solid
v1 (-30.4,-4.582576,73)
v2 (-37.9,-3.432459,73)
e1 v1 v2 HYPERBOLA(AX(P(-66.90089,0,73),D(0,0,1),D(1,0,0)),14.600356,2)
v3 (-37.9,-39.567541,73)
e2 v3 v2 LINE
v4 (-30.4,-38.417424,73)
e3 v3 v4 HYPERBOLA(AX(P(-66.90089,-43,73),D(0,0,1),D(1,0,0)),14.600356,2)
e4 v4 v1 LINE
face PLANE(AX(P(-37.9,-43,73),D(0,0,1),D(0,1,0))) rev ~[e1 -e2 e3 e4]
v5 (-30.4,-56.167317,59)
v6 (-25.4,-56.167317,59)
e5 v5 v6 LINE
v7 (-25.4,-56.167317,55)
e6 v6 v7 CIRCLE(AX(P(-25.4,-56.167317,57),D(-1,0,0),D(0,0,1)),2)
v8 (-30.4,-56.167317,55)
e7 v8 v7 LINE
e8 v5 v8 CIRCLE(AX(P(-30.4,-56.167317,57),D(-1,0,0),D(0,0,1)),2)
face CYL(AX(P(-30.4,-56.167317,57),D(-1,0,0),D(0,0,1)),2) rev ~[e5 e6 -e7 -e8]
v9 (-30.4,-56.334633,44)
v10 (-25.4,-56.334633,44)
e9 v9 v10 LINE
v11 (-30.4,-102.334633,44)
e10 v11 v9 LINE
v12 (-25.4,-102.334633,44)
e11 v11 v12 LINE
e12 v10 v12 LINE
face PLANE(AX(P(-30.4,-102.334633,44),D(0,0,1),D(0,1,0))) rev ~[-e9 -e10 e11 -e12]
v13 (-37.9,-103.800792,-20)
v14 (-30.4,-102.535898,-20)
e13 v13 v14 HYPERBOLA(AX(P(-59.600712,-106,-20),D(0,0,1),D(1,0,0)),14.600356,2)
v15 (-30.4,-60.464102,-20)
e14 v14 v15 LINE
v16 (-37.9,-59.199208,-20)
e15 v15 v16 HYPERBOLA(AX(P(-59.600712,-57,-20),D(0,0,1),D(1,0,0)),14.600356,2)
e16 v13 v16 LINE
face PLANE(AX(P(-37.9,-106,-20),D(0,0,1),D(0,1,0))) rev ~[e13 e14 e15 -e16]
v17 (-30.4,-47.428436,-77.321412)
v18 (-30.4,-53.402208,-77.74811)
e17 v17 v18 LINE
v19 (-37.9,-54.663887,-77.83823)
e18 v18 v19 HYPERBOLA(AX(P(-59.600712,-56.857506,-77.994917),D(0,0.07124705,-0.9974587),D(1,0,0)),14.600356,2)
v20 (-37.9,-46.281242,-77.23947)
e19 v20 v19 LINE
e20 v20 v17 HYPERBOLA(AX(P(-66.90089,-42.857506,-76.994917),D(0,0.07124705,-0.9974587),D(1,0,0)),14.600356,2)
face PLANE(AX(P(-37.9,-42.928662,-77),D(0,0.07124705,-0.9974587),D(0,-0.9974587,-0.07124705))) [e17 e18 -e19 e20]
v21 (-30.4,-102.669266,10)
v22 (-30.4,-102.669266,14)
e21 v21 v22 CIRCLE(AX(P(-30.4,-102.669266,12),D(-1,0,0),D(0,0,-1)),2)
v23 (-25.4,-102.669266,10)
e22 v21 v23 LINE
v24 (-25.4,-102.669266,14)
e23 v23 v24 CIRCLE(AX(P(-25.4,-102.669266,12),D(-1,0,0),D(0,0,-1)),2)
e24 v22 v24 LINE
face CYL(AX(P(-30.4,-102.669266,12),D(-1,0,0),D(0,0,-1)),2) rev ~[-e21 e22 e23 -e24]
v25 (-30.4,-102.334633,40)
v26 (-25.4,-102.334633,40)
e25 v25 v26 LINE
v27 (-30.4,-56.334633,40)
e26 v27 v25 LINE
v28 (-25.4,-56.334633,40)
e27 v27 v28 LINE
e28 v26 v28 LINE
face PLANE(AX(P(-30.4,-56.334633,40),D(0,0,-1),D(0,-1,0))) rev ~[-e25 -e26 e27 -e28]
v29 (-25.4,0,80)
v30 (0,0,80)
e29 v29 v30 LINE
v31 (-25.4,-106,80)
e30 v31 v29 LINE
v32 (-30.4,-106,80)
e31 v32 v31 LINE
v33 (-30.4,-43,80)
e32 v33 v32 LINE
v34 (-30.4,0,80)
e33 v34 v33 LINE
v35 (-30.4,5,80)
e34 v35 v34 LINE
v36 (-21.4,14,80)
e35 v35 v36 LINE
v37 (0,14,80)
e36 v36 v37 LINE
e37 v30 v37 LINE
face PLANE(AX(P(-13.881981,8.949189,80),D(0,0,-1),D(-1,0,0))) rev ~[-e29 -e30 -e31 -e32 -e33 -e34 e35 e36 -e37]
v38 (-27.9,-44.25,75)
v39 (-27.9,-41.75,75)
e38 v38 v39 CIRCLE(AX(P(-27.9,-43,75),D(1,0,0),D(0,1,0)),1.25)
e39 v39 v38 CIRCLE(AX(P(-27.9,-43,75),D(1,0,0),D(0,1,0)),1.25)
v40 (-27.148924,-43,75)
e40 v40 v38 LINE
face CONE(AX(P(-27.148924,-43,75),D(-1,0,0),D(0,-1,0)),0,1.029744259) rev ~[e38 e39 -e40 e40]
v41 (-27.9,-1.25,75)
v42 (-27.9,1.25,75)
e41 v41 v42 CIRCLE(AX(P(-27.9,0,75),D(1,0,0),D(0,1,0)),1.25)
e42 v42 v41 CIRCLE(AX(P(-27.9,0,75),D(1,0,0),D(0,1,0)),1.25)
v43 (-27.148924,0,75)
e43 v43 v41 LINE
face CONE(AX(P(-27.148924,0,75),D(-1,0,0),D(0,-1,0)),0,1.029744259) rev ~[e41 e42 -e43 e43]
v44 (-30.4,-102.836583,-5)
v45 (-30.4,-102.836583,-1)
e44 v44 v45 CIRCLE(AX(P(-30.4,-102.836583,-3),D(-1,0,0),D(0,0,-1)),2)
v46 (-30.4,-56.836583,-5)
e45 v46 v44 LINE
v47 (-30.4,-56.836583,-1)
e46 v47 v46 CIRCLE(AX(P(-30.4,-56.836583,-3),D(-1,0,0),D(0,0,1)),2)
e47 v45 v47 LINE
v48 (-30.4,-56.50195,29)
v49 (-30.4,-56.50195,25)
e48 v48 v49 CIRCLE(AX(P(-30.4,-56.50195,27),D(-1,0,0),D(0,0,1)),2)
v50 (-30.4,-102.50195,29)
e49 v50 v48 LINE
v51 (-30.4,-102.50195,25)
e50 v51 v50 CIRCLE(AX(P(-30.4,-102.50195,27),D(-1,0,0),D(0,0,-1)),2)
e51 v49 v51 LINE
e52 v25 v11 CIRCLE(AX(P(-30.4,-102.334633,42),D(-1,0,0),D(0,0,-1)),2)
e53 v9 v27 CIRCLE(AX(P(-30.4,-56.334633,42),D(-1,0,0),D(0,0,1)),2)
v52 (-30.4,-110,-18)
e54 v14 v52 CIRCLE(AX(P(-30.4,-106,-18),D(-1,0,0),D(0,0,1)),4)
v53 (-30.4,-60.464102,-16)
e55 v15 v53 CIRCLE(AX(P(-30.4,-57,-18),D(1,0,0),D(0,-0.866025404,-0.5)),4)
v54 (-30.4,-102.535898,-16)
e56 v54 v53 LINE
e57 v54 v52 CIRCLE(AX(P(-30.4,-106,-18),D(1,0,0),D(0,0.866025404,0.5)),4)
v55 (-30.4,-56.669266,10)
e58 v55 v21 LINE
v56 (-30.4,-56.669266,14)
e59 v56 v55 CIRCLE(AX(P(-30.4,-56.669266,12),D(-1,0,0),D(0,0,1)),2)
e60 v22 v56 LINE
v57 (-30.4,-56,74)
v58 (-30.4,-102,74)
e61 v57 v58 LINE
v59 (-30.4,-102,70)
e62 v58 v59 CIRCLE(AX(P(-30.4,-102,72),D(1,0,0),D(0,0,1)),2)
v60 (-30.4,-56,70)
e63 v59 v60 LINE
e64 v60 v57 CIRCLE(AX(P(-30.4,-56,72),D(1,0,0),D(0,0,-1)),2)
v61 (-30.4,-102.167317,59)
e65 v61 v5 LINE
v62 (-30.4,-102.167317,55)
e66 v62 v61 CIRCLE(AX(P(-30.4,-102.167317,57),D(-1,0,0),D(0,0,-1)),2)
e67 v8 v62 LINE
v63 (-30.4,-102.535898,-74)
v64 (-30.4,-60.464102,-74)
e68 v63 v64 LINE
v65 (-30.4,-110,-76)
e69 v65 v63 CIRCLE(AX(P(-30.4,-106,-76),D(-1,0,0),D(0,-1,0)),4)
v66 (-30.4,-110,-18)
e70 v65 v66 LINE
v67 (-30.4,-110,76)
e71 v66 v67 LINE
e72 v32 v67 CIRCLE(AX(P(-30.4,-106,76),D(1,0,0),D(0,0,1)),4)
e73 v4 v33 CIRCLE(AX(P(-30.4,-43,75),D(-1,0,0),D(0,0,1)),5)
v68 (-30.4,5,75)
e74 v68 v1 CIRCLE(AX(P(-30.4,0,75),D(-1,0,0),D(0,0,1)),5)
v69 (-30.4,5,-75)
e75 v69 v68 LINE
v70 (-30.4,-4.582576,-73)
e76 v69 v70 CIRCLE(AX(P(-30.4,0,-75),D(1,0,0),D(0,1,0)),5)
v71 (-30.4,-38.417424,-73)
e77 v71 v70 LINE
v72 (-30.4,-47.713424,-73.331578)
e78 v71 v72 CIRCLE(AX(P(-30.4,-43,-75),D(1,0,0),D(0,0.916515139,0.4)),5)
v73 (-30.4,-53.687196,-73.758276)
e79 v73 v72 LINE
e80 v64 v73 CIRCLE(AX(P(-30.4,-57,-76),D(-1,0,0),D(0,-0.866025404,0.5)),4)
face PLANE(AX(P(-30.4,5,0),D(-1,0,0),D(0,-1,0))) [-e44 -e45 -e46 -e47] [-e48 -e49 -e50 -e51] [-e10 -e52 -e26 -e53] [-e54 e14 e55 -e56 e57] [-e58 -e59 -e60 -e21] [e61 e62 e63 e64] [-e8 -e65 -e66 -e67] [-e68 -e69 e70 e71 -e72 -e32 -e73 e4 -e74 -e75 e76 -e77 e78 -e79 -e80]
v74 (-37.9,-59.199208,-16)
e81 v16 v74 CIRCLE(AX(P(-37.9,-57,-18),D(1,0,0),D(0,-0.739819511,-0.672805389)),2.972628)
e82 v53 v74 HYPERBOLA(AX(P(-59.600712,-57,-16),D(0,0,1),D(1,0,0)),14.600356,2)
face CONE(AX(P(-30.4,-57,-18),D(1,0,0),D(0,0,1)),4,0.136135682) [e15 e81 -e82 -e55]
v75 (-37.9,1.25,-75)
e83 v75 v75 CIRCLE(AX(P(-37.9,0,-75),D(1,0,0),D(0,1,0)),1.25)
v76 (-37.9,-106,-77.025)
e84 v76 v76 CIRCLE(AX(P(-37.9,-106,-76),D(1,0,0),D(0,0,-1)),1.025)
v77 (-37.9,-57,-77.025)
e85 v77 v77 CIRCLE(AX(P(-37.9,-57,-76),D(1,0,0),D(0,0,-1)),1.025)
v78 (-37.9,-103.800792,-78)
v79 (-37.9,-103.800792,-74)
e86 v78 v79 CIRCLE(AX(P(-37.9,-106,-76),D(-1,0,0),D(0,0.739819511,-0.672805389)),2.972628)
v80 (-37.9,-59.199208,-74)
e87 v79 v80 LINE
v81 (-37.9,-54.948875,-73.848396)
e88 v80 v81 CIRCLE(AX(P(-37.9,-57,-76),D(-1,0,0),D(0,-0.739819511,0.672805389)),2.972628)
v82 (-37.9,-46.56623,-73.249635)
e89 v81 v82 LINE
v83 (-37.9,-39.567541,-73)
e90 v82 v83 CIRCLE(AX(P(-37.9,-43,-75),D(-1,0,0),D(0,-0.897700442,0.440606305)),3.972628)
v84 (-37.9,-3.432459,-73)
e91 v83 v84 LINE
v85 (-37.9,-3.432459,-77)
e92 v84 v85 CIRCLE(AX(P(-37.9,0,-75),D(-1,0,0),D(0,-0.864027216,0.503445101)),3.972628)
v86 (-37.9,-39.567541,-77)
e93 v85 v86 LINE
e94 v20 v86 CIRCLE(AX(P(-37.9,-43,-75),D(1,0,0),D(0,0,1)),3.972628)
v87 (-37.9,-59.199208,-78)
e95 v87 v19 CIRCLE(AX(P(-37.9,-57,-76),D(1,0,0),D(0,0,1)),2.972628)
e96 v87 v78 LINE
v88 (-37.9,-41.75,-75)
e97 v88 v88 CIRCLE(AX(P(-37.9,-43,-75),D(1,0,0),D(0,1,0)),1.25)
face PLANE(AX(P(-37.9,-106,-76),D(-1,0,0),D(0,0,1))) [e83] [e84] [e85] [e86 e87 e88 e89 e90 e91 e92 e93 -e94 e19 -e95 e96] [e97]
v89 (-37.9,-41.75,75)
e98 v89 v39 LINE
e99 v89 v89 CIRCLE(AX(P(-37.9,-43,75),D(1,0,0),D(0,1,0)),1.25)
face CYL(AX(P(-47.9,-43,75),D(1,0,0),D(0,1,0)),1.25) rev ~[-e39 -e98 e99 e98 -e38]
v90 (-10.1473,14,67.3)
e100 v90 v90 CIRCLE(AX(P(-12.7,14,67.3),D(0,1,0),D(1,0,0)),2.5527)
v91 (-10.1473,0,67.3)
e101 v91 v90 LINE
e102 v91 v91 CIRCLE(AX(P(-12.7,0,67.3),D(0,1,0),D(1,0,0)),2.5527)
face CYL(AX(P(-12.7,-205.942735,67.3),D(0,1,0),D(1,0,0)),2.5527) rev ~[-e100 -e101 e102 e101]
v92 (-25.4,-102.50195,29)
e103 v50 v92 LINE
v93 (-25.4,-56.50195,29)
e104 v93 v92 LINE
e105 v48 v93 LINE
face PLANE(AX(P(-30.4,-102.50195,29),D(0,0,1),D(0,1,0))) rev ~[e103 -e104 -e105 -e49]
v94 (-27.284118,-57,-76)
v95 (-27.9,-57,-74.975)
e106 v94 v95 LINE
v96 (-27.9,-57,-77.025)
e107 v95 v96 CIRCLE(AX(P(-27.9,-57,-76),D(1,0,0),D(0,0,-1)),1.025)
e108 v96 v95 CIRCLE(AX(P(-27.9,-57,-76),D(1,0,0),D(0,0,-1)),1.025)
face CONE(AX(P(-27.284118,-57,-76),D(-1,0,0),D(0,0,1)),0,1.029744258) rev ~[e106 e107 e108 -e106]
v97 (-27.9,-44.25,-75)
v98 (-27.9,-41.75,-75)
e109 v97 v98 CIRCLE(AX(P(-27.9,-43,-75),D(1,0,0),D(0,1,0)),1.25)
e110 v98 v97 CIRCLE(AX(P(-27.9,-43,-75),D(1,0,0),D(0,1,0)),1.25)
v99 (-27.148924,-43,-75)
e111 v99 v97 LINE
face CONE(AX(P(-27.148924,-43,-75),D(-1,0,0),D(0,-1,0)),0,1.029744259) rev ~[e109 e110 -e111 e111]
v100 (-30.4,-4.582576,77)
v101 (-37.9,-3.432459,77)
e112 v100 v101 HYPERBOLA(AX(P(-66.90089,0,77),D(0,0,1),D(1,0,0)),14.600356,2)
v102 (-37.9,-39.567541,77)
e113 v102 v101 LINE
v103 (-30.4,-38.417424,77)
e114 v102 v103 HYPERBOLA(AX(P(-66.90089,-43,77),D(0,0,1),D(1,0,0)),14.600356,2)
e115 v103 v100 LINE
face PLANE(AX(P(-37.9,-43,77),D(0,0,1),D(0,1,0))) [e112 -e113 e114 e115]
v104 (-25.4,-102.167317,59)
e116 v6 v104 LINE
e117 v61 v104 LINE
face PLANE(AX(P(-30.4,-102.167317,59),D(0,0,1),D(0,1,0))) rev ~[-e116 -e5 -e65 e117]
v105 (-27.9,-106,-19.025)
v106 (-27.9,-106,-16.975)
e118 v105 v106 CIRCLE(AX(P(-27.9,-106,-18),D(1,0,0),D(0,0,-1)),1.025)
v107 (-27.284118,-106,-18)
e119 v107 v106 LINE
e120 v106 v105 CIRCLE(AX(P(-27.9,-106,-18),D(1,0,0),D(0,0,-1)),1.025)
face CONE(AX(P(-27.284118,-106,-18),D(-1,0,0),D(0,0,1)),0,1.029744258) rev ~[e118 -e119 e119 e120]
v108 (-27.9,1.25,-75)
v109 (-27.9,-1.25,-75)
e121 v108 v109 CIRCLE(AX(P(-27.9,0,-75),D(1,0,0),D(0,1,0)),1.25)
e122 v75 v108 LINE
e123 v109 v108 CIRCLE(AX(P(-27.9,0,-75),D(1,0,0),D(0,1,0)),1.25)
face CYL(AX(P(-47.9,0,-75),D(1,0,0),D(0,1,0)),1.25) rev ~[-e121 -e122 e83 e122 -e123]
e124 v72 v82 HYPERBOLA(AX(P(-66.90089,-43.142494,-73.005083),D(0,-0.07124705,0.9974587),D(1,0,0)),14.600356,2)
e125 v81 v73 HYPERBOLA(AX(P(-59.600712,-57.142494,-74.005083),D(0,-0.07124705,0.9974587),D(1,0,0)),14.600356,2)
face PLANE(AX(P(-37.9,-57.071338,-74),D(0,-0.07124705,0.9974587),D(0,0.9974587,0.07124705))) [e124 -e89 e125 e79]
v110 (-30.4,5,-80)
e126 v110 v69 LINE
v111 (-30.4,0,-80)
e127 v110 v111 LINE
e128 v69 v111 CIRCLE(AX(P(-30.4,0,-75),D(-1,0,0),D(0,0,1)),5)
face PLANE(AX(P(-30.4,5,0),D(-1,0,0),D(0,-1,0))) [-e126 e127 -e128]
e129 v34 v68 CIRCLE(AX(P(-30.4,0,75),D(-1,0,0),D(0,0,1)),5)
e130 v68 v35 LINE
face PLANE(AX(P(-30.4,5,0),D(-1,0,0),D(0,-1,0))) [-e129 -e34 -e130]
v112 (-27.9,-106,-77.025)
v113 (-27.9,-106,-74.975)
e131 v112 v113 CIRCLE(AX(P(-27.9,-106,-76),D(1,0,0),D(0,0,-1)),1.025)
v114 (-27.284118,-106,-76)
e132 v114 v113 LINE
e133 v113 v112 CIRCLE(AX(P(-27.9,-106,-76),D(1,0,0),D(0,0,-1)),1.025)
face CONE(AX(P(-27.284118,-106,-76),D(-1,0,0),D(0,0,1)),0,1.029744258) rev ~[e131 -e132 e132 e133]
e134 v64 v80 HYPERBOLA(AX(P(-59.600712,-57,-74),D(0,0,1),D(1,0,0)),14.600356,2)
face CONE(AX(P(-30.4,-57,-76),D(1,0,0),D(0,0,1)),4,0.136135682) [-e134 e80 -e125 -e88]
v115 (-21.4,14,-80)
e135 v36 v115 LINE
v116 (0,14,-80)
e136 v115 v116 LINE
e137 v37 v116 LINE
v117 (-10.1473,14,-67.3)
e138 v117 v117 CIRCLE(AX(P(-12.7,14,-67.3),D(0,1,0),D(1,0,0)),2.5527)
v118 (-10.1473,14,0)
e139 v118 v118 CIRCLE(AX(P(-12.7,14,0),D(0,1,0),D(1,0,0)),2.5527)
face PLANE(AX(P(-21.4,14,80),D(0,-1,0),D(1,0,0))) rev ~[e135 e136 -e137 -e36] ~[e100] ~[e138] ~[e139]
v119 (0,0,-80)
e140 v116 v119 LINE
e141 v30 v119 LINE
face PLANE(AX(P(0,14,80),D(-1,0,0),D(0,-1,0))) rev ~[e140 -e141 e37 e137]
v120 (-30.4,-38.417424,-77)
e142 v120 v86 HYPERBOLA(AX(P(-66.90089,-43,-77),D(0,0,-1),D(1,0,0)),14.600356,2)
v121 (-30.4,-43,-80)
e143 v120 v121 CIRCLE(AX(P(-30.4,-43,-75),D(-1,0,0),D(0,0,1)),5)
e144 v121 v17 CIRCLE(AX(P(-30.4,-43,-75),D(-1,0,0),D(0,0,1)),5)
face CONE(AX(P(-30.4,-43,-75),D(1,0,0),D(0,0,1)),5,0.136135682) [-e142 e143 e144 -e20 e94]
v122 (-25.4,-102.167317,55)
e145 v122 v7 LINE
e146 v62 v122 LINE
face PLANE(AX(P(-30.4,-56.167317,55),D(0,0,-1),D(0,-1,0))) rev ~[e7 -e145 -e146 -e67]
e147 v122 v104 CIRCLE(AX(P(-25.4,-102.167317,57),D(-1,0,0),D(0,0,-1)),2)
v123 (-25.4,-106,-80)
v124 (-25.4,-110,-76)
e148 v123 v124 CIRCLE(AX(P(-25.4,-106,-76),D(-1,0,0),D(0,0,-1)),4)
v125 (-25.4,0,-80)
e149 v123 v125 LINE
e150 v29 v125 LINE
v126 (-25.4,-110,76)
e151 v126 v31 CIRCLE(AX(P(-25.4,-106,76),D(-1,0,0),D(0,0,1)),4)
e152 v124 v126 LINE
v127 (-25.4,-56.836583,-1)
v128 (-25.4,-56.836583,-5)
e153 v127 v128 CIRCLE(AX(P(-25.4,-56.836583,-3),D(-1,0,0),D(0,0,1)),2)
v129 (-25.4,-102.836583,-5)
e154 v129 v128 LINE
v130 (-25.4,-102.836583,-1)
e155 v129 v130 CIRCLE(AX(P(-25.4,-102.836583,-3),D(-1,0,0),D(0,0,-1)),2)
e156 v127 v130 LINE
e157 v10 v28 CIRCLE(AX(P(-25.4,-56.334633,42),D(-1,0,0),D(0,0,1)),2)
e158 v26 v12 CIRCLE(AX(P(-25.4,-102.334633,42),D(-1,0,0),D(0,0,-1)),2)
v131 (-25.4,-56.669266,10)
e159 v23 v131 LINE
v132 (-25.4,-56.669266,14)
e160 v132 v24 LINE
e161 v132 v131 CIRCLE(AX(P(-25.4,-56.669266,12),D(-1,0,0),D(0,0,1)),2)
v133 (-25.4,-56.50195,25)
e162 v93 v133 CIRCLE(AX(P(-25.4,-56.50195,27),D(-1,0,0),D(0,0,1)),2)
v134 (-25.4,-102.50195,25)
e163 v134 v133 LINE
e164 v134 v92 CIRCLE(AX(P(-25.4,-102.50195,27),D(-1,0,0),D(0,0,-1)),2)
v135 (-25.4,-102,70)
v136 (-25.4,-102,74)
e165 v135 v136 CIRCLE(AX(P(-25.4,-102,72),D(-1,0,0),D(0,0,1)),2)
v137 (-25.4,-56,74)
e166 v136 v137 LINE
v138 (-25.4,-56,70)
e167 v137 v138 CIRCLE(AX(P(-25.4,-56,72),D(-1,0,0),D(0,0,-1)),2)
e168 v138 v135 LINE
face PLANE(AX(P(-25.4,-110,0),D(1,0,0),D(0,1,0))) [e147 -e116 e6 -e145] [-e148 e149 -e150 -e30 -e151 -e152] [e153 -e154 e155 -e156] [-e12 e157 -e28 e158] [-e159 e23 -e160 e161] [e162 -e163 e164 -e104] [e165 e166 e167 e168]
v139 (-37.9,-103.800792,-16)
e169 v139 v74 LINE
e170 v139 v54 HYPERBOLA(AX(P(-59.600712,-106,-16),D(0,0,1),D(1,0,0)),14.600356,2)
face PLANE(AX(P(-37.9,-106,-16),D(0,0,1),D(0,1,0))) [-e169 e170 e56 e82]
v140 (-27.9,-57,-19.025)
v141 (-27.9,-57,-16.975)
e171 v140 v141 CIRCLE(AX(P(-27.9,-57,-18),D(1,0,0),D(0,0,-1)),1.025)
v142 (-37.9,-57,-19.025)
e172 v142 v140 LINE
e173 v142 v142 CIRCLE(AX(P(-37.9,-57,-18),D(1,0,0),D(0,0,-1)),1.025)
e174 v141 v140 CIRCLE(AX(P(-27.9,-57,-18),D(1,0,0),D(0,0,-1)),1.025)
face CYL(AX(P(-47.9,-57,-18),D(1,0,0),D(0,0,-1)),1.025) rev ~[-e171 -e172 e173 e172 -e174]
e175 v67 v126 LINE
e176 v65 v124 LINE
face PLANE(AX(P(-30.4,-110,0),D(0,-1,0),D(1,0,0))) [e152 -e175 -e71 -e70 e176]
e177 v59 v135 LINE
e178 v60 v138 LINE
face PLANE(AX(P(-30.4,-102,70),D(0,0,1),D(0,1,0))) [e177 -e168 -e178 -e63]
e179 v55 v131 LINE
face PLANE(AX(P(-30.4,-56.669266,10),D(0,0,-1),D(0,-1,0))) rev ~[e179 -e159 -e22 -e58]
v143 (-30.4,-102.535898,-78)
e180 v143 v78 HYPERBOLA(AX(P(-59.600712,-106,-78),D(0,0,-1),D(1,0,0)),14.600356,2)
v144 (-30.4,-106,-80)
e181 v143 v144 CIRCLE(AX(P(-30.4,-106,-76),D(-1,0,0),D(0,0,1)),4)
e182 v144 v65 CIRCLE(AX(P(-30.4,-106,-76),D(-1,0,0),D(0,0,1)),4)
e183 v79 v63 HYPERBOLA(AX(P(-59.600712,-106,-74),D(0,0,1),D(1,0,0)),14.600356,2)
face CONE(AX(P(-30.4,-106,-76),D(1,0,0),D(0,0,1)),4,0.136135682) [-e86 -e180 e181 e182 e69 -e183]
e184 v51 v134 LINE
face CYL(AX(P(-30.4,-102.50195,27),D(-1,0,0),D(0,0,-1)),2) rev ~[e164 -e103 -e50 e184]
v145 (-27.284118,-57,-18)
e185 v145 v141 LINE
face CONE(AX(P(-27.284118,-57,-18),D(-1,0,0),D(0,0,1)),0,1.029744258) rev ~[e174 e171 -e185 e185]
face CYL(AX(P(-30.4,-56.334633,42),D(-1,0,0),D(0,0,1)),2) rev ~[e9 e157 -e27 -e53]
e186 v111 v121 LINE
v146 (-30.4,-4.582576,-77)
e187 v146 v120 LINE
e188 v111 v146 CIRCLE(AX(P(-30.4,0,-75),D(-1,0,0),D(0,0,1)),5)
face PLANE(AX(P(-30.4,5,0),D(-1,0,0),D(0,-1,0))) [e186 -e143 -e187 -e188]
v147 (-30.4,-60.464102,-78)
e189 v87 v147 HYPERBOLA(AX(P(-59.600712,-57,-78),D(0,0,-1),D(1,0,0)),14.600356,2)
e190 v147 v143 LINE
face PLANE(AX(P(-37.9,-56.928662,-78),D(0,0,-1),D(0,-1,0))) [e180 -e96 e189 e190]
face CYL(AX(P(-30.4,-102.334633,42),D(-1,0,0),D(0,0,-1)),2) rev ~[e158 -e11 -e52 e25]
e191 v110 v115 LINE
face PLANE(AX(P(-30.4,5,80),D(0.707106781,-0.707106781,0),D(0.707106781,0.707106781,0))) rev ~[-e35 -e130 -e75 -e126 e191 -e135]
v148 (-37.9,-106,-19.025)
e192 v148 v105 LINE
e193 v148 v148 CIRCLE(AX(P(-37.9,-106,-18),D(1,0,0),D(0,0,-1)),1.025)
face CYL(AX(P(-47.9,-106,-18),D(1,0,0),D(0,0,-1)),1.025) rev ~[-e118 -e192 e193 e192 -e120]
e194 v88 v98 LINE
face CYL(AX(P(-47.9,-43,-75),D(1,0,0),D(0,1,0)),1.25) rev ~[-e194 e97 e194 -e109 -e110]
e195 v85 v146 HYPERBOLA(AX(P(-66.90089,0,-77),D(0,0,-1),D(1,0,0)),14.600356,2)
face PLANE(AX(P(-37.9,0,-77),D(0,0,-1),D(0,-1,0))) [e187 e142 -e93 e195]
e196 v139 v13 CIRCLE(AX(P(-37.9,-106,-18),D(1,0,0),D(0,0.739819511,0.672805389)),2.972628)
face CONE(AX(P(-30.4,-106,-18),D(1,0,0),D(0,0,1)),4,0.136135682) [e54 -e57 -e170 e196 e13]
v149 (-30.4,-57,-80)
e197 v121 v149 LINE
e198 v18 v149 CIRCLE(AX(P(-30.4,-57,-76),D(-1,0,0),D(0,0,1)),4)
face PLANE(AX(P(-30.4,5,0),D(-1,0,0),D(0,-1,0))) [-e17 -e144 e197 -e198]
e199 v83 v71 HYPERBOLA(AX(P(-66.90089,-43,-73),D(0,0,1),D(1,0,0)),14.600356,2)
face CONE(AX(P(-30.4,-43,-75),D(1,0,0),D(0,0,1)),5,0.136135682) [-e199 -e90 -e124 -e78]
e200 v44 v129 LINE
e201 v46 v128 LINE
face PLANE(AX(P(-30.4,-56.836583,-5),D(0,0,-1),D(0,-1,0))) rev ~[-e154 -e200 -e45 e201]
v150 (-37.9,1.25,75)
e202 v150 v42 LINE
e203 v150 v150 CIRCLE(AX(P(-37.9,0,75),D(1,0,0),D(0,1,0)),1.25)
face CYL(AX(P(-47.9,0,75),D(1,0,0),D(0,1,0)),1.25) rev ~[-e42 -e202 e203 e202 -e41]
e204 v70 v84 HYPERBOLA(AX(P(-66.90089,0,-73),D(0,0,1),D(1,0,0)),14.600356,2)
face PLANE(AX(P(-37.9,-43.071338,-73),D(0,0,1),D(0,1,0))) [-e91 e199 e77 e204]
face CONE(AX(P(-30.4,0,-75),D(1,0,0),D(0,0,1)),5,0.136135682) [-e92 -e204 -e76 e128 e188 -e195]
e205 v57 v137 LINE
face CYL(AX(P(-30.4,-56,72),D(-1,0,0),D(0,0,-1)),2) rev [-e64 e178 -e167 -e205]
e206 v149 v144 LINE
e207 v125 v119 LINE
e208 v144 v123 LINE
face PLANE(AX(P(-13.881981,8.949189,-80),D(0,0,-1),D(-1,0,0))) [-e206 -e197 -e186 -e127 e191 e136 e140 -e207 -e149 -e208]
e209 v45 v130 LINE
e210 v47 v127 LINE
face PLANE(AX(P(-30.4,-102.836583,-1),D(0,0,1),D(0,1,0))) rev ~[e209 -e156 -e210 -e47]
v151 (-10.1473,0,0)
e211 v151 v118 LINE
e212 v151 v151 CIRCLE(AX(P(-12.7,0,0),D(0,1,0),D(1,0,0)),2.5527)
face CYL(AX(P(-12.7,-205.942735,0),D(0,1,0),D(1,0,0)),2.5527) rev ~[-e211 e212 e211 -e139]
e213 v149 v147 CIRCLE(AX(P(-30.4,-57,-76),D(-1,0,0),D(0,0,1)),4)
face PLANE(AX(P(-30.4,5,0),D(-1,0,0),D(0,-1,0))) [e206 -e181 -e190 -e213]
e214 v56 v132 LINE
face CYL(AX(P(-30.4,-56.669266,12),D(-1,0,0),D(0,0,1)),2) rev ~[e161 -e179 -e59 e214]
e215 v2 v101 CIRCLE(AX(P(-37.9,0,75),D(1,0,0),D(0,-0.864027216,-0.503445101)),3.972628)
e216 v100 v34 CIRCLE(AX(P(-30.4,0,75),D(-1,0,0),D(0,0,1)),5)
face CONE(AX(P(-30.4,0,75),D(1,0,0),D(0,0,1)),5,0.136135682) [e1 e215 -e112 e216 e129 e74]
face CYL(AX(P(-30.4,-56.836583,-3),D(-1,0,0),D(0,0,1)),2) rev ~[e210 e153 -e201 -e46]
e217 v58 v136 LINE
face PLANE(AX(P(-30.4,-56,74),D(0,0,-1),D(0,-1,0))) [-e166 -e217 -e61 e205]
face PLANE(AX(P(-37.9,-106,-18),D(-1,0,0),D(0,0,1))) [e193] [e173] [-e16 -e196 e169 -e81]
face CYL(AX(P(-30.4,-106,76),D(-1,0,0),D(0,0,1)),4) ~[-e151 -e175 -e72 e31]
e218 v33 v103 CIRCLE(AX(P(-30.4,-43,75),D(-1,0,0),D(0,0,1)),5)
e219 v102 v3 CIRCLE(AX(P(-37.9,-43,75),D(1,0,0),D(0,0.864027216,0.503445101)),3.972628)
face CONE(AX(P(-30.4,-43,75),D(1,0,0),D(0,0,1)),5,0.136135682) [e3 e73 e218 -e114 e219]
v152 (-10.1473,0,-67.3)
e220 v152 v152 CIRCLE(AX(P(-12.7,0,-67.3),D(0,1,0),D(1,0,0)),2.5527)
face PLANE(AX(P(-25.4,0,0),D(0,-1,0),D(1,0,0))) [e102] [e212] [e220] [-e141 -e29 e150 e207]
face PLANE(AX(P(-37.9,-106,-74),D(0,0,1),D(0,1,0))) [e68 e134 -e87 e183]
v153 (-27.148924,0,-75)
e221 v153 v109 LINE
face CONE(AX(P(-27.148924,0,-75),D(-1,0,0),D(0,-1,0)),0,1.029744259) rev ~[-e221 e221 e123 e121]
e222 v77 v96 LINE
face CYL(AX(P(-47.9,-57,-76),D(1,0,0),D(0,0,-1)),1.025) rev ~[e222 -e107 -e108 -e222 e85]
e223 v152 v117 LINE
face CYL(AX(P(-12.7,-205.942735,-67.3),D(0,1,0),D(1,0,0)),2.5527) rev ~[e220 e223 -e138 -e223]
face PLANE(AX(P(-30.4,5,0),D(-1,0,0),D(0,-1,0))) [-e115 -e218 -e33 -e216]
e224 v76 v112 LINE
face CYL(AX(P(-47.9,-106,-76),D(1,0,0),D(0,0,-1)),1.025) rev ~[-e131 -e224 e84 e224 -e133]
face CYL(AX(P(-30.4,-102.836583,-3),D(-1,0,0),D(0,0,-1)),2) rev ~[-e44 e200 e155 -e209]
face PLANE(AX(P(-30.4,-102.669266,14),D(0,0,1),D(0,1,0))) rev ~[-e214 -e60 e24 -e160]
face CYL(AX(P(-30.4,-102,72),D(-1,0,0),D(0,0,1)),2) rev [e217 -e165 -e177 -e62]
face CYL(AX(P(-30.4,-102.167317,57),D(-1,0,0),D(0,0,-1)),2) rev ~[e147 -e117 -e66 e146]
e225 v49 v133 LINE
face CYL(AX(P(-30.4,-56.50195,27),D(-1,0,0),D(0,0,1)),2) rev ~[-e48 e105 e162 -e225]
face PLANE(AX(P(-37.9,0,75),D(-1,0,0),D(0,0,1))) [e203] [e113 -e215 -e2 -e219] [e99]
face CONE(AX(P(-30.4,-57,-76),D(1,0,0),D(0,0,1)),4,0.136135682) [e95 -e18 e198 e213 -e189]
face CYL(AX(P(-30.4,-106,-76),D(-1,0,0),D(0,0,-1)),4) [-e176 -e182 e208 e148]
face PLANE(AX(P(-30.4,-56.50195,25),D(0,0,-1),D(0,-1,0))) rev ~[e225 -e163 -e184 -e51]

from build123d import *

# Parameters (mm, degrees)
BOSS_EXTRUDE1_DEPTH                = 80
SKETCH2_R                          = 5
SKETCH2_R_2                        = 4
BOSS_EXTRUDE2_DEPTH                = 7.5
BOSS_EXTRUDE2_TAPER                = 7.8
CUT_EXTRUDE1_DEPTH                 = 31.4
CUT_EXTRUDE2_DEPTH                 = 31.4
SKETCH6_W                          = 4
SKETCH6_H                          = 43
SKETCH6_H_2                        = 49
EXTRUDE_THIN1_DEPTH                = 7.5
TAP_DRILL_FOR_M2_5X0_45_TAP1_D     = 2.05
TAP_DRILL_FOR_M2_5X0_45_TAP1_DEPTH = 10
TAP_DRILL_FOR_M2_5X0_45_TAP1_TIP   = 0.615882135
TAP_DRILL_FOR_M3X0_5_TAP1_D        = 2.5
TAP_DRILL_FOR_M3X0_5_TAP1_DEPTH    = 10
TAP_DRILL_FOR_M3X0_5_TAP1_TIP      = 0.751075774
BOSS_EXTRUDE4_DEPTH                = 160
F_10_CLEARANCE_HOLE1_D             = 5.1054


with BuildPart() as part:
    # Sketch1 → Boss-Extrude1 (new body, symmetric)
    with BuildSketch(Plane.XY):
        Polygon((0, 5), (-30.4, 5), (-30.4, -110), (-25.4, -110), (-25.4, 0), (0, 0), align=None)
    extrude(amount=BOSS_EXTRUDE1_DEPTH, both=True)

    # Sketch2 → Boss-Extrude2 (add)
    with BuildSketch(Plane.ZY.offset(30.4)):
        with Locations((75, -43)):
            Circle(SKETCH2_R)
        with Locations((75, 0)):
            Circle(SKETCH2_R)
        with Locations((-75, 0)):
            Circle(SKETCH2_R)
        with Locations((-75, -43)):
            Circle(SKETCH2_R)
        with Locations((-76, -57)):
            Circle(SKETCH2_R_2)
        with Locations((-76, -106)):
            Circle(SKETCH2_R_2)
        with Locations((-18, -106)):
            Circle(SKETCH2_R_2)
        with Locations((-18, -57)):
            Circle(SKETCH2_R_2)
    extrude(amount=BOSS_EXTRUDE2_DEPTH, taper=BOSS_EXTRUDE2_TAPER)

    # Sketch3 → Cut-Extrude1 (cut, through all)
    with BuildSketch(Plane.ZY.offset(30.4)):
        with BuildLine():
            Line((74, -56), (74, -102))
            ThreePointArc((74, -102), (72, -104), (70, -102))
            Line((70, -102), (70, -56))
            ThreePointArc((70, -56), (72, -54), (74, -56))
        make_face()
        with BuildLine():
            Line((55, -56.167316529), (55, -102.167316529))
            ThreePointArc((55, -102.167316529), (57, -104.167316529), (59, -102.167316529))
            Line((59, -102.167316529), (59, -56.167316529))
            ThreePointArc((59, -56.167316529), (57, -54.167316529), (55, -56.167316529))
        make_face()
        with BuildLine():
            Line((40, -56.334633058), (40, -102.334633058))
            ThreePointArc((40, -102.334633058), (42, -104.334633058), (44, -102.334633058))
            Line((44, -102.334633058), (44, -56.334633058))
            ThreePointArc((44, -56.334633058), (42, -54.334633058), (40, -56.334633058))
        make_face()
        with BuildLine():
            Line((25, -56.501949587), (25, -102.501949587))
            ThreePointArc((25, -102.501949587), (27, -104.501949587), (29, -102.501949587))
            Line((29, -102.501949587), (29, -56.501949587))
            ThreePointArc((29, -56.501949587), (27, -54.501949587), (25, -56.501949587))
        make_face()
        with BuildLine():
            Line((10, -56.669266116), (10, -102.669266116))
            ThreePointArc((10, -102.669266116), (12, -104.669266116), (14, -102.669266116))
            Line((14, -102.669266116), (14, -56.669266116))
            ThreePointArc((14, -56.669266116), (12, -54.669266116), (10, -56.669266116))
        make_face()
        with BuildLine():
            Line((-5, -56.836582645), (-5, -102.836582645))
            ThreePointArc((-5, -102.836582645), (-3, -104.836582645), (-1, -102.836582645))
            Line((-1, -102.836582645), (-1, -56.836582645))
            ThreePointArc((-1, -56.836582645), (-3, -54.836582645), (-5, -56.836582645))
        make_face()
    extrude(amount=-CUT_EXTRUDE1_DEPTH, mode=Mode.SUBTRACT)

    # Sketch4 → Cut-Extrude2 (cut, through all)
    with BuildSketch(Plane.ZY.offset(30.4)):
        with BuildLine():
            ThreePointArc((80, -106), (78.828427125, -108.828427125), (76, -110))
            Line((76, -110), (80, -110))
            Line((80, -110), (80, -106))
        make_face()
        with BuildLine():
            ThreePointArc((-80, -106), (-78.828427125, -108.828427125), (-76, -110))
            Line((-76, -110), (-80, -110))
            Line((-80, -110), (-80, -106))
        make_face()
    extrude(amount=-CUT_EXTRUDE2_DEPTH, mode=Mode.SUBTRACT)

    # Sketch6 → Extrude-Thin1 (add)
    with BuildSketch(Plane.ZY.offset(37.9)):
        Polygon((-74, -106), (-74, -57.071337695), (-73, -43.071337695), (-73, 0), (-77, 0), (-77, -42.928662305), (-78, -56.928662305), (-78, -106), align=None)
        with Locations((75, -21.5)):
            Rectangle(SKETCH6_W, SKETCH6_H)
        with Locations((-18, -81.5)):
            Rectangle(SKETCH6_W, SKETCH6_H_2)
    extrude(amount=-EXTRUDE_THIN1_DEPTH)

    # Tap Drill for M2.5x0.45 Tap1
    with Locations(Plane.ZY.offset(37.9)):
        with Locations((-76, -57), (-76, -106), (-18, -106), (-18, -57)):
            Hole(TAP_DRILL_FOR_M2_5X0_45_TAP1_D / 2, depth=TAP_DRILL_FOR_M2_5X0_45_TAP1_DEPTH)
            with Locations((0, 0, -(TAP_DRILL_FOR_M2_5X0_45_TAP1_DEPTH + TAP_DRILL_FOR_M2_5X0_45_TAP1_TIP / 2))):  # 118° drill point
                Cone(0, TAP_DRILL_FOR_M2_5X0_45_TAP1_D / 2, TAP_DRILL_FOR_M2_5X0_45_TAP1_TIP, mode=Mode.SUBTRACT)

    # Tap Drill for M3x0.5 Tap1
    with Locations(Plane(origin=(-37.9, 0, -75), x_dir=(0, -1, 0), z_dir=(-1, 0, 0))):
        with Locations((0, 0), (43, 0), (43, 150), (0, 150)):
            Hole(TAP_DRILL_FOR_M3X0_5_TAP1_D / 2, depth=TAP_DRILL_FOR_M3X0_5_TAP1_DEPTH)
            with Locations((0, 0, -(TAP_DRILL_FOR_M3X0_5_TAP1_DEPTH + TAP_DRILL_FOR_M3X0_5_TAP1_TIP / 2))):  # 118° drill point
                Cone(0, TAP_DRILL_FOR_M3X0_5_TAP1_D / 2, TAP_DRILL_FOR_M3X0_5_TAP1_TIP, mode=Mode.SUBTRACT)

    # Sketch11 → Boss-Extrude4 (add)
    with BuildSketch(Plane.XY.offset(80)):
        Polygon((-30.4, 5), (-21.4, 14), (0, 14), (0, 5), align=None)
    extrude(amount=-BOSS_EXTRUDE4_DEPTH)

    # #10 Clearance Hole1 (through all)
    with Locations(Plane(origin=(0, 0, 0), x_dir=(-1, 0, 0), z_dir=(0, -1, 0))):
        with Locations((12.7, 0), (12.7, 67.3), (12.7, -67.3)):
            Hole(F_10_CLEARANCE_HOLE1_D / 2)


solid = part.part
